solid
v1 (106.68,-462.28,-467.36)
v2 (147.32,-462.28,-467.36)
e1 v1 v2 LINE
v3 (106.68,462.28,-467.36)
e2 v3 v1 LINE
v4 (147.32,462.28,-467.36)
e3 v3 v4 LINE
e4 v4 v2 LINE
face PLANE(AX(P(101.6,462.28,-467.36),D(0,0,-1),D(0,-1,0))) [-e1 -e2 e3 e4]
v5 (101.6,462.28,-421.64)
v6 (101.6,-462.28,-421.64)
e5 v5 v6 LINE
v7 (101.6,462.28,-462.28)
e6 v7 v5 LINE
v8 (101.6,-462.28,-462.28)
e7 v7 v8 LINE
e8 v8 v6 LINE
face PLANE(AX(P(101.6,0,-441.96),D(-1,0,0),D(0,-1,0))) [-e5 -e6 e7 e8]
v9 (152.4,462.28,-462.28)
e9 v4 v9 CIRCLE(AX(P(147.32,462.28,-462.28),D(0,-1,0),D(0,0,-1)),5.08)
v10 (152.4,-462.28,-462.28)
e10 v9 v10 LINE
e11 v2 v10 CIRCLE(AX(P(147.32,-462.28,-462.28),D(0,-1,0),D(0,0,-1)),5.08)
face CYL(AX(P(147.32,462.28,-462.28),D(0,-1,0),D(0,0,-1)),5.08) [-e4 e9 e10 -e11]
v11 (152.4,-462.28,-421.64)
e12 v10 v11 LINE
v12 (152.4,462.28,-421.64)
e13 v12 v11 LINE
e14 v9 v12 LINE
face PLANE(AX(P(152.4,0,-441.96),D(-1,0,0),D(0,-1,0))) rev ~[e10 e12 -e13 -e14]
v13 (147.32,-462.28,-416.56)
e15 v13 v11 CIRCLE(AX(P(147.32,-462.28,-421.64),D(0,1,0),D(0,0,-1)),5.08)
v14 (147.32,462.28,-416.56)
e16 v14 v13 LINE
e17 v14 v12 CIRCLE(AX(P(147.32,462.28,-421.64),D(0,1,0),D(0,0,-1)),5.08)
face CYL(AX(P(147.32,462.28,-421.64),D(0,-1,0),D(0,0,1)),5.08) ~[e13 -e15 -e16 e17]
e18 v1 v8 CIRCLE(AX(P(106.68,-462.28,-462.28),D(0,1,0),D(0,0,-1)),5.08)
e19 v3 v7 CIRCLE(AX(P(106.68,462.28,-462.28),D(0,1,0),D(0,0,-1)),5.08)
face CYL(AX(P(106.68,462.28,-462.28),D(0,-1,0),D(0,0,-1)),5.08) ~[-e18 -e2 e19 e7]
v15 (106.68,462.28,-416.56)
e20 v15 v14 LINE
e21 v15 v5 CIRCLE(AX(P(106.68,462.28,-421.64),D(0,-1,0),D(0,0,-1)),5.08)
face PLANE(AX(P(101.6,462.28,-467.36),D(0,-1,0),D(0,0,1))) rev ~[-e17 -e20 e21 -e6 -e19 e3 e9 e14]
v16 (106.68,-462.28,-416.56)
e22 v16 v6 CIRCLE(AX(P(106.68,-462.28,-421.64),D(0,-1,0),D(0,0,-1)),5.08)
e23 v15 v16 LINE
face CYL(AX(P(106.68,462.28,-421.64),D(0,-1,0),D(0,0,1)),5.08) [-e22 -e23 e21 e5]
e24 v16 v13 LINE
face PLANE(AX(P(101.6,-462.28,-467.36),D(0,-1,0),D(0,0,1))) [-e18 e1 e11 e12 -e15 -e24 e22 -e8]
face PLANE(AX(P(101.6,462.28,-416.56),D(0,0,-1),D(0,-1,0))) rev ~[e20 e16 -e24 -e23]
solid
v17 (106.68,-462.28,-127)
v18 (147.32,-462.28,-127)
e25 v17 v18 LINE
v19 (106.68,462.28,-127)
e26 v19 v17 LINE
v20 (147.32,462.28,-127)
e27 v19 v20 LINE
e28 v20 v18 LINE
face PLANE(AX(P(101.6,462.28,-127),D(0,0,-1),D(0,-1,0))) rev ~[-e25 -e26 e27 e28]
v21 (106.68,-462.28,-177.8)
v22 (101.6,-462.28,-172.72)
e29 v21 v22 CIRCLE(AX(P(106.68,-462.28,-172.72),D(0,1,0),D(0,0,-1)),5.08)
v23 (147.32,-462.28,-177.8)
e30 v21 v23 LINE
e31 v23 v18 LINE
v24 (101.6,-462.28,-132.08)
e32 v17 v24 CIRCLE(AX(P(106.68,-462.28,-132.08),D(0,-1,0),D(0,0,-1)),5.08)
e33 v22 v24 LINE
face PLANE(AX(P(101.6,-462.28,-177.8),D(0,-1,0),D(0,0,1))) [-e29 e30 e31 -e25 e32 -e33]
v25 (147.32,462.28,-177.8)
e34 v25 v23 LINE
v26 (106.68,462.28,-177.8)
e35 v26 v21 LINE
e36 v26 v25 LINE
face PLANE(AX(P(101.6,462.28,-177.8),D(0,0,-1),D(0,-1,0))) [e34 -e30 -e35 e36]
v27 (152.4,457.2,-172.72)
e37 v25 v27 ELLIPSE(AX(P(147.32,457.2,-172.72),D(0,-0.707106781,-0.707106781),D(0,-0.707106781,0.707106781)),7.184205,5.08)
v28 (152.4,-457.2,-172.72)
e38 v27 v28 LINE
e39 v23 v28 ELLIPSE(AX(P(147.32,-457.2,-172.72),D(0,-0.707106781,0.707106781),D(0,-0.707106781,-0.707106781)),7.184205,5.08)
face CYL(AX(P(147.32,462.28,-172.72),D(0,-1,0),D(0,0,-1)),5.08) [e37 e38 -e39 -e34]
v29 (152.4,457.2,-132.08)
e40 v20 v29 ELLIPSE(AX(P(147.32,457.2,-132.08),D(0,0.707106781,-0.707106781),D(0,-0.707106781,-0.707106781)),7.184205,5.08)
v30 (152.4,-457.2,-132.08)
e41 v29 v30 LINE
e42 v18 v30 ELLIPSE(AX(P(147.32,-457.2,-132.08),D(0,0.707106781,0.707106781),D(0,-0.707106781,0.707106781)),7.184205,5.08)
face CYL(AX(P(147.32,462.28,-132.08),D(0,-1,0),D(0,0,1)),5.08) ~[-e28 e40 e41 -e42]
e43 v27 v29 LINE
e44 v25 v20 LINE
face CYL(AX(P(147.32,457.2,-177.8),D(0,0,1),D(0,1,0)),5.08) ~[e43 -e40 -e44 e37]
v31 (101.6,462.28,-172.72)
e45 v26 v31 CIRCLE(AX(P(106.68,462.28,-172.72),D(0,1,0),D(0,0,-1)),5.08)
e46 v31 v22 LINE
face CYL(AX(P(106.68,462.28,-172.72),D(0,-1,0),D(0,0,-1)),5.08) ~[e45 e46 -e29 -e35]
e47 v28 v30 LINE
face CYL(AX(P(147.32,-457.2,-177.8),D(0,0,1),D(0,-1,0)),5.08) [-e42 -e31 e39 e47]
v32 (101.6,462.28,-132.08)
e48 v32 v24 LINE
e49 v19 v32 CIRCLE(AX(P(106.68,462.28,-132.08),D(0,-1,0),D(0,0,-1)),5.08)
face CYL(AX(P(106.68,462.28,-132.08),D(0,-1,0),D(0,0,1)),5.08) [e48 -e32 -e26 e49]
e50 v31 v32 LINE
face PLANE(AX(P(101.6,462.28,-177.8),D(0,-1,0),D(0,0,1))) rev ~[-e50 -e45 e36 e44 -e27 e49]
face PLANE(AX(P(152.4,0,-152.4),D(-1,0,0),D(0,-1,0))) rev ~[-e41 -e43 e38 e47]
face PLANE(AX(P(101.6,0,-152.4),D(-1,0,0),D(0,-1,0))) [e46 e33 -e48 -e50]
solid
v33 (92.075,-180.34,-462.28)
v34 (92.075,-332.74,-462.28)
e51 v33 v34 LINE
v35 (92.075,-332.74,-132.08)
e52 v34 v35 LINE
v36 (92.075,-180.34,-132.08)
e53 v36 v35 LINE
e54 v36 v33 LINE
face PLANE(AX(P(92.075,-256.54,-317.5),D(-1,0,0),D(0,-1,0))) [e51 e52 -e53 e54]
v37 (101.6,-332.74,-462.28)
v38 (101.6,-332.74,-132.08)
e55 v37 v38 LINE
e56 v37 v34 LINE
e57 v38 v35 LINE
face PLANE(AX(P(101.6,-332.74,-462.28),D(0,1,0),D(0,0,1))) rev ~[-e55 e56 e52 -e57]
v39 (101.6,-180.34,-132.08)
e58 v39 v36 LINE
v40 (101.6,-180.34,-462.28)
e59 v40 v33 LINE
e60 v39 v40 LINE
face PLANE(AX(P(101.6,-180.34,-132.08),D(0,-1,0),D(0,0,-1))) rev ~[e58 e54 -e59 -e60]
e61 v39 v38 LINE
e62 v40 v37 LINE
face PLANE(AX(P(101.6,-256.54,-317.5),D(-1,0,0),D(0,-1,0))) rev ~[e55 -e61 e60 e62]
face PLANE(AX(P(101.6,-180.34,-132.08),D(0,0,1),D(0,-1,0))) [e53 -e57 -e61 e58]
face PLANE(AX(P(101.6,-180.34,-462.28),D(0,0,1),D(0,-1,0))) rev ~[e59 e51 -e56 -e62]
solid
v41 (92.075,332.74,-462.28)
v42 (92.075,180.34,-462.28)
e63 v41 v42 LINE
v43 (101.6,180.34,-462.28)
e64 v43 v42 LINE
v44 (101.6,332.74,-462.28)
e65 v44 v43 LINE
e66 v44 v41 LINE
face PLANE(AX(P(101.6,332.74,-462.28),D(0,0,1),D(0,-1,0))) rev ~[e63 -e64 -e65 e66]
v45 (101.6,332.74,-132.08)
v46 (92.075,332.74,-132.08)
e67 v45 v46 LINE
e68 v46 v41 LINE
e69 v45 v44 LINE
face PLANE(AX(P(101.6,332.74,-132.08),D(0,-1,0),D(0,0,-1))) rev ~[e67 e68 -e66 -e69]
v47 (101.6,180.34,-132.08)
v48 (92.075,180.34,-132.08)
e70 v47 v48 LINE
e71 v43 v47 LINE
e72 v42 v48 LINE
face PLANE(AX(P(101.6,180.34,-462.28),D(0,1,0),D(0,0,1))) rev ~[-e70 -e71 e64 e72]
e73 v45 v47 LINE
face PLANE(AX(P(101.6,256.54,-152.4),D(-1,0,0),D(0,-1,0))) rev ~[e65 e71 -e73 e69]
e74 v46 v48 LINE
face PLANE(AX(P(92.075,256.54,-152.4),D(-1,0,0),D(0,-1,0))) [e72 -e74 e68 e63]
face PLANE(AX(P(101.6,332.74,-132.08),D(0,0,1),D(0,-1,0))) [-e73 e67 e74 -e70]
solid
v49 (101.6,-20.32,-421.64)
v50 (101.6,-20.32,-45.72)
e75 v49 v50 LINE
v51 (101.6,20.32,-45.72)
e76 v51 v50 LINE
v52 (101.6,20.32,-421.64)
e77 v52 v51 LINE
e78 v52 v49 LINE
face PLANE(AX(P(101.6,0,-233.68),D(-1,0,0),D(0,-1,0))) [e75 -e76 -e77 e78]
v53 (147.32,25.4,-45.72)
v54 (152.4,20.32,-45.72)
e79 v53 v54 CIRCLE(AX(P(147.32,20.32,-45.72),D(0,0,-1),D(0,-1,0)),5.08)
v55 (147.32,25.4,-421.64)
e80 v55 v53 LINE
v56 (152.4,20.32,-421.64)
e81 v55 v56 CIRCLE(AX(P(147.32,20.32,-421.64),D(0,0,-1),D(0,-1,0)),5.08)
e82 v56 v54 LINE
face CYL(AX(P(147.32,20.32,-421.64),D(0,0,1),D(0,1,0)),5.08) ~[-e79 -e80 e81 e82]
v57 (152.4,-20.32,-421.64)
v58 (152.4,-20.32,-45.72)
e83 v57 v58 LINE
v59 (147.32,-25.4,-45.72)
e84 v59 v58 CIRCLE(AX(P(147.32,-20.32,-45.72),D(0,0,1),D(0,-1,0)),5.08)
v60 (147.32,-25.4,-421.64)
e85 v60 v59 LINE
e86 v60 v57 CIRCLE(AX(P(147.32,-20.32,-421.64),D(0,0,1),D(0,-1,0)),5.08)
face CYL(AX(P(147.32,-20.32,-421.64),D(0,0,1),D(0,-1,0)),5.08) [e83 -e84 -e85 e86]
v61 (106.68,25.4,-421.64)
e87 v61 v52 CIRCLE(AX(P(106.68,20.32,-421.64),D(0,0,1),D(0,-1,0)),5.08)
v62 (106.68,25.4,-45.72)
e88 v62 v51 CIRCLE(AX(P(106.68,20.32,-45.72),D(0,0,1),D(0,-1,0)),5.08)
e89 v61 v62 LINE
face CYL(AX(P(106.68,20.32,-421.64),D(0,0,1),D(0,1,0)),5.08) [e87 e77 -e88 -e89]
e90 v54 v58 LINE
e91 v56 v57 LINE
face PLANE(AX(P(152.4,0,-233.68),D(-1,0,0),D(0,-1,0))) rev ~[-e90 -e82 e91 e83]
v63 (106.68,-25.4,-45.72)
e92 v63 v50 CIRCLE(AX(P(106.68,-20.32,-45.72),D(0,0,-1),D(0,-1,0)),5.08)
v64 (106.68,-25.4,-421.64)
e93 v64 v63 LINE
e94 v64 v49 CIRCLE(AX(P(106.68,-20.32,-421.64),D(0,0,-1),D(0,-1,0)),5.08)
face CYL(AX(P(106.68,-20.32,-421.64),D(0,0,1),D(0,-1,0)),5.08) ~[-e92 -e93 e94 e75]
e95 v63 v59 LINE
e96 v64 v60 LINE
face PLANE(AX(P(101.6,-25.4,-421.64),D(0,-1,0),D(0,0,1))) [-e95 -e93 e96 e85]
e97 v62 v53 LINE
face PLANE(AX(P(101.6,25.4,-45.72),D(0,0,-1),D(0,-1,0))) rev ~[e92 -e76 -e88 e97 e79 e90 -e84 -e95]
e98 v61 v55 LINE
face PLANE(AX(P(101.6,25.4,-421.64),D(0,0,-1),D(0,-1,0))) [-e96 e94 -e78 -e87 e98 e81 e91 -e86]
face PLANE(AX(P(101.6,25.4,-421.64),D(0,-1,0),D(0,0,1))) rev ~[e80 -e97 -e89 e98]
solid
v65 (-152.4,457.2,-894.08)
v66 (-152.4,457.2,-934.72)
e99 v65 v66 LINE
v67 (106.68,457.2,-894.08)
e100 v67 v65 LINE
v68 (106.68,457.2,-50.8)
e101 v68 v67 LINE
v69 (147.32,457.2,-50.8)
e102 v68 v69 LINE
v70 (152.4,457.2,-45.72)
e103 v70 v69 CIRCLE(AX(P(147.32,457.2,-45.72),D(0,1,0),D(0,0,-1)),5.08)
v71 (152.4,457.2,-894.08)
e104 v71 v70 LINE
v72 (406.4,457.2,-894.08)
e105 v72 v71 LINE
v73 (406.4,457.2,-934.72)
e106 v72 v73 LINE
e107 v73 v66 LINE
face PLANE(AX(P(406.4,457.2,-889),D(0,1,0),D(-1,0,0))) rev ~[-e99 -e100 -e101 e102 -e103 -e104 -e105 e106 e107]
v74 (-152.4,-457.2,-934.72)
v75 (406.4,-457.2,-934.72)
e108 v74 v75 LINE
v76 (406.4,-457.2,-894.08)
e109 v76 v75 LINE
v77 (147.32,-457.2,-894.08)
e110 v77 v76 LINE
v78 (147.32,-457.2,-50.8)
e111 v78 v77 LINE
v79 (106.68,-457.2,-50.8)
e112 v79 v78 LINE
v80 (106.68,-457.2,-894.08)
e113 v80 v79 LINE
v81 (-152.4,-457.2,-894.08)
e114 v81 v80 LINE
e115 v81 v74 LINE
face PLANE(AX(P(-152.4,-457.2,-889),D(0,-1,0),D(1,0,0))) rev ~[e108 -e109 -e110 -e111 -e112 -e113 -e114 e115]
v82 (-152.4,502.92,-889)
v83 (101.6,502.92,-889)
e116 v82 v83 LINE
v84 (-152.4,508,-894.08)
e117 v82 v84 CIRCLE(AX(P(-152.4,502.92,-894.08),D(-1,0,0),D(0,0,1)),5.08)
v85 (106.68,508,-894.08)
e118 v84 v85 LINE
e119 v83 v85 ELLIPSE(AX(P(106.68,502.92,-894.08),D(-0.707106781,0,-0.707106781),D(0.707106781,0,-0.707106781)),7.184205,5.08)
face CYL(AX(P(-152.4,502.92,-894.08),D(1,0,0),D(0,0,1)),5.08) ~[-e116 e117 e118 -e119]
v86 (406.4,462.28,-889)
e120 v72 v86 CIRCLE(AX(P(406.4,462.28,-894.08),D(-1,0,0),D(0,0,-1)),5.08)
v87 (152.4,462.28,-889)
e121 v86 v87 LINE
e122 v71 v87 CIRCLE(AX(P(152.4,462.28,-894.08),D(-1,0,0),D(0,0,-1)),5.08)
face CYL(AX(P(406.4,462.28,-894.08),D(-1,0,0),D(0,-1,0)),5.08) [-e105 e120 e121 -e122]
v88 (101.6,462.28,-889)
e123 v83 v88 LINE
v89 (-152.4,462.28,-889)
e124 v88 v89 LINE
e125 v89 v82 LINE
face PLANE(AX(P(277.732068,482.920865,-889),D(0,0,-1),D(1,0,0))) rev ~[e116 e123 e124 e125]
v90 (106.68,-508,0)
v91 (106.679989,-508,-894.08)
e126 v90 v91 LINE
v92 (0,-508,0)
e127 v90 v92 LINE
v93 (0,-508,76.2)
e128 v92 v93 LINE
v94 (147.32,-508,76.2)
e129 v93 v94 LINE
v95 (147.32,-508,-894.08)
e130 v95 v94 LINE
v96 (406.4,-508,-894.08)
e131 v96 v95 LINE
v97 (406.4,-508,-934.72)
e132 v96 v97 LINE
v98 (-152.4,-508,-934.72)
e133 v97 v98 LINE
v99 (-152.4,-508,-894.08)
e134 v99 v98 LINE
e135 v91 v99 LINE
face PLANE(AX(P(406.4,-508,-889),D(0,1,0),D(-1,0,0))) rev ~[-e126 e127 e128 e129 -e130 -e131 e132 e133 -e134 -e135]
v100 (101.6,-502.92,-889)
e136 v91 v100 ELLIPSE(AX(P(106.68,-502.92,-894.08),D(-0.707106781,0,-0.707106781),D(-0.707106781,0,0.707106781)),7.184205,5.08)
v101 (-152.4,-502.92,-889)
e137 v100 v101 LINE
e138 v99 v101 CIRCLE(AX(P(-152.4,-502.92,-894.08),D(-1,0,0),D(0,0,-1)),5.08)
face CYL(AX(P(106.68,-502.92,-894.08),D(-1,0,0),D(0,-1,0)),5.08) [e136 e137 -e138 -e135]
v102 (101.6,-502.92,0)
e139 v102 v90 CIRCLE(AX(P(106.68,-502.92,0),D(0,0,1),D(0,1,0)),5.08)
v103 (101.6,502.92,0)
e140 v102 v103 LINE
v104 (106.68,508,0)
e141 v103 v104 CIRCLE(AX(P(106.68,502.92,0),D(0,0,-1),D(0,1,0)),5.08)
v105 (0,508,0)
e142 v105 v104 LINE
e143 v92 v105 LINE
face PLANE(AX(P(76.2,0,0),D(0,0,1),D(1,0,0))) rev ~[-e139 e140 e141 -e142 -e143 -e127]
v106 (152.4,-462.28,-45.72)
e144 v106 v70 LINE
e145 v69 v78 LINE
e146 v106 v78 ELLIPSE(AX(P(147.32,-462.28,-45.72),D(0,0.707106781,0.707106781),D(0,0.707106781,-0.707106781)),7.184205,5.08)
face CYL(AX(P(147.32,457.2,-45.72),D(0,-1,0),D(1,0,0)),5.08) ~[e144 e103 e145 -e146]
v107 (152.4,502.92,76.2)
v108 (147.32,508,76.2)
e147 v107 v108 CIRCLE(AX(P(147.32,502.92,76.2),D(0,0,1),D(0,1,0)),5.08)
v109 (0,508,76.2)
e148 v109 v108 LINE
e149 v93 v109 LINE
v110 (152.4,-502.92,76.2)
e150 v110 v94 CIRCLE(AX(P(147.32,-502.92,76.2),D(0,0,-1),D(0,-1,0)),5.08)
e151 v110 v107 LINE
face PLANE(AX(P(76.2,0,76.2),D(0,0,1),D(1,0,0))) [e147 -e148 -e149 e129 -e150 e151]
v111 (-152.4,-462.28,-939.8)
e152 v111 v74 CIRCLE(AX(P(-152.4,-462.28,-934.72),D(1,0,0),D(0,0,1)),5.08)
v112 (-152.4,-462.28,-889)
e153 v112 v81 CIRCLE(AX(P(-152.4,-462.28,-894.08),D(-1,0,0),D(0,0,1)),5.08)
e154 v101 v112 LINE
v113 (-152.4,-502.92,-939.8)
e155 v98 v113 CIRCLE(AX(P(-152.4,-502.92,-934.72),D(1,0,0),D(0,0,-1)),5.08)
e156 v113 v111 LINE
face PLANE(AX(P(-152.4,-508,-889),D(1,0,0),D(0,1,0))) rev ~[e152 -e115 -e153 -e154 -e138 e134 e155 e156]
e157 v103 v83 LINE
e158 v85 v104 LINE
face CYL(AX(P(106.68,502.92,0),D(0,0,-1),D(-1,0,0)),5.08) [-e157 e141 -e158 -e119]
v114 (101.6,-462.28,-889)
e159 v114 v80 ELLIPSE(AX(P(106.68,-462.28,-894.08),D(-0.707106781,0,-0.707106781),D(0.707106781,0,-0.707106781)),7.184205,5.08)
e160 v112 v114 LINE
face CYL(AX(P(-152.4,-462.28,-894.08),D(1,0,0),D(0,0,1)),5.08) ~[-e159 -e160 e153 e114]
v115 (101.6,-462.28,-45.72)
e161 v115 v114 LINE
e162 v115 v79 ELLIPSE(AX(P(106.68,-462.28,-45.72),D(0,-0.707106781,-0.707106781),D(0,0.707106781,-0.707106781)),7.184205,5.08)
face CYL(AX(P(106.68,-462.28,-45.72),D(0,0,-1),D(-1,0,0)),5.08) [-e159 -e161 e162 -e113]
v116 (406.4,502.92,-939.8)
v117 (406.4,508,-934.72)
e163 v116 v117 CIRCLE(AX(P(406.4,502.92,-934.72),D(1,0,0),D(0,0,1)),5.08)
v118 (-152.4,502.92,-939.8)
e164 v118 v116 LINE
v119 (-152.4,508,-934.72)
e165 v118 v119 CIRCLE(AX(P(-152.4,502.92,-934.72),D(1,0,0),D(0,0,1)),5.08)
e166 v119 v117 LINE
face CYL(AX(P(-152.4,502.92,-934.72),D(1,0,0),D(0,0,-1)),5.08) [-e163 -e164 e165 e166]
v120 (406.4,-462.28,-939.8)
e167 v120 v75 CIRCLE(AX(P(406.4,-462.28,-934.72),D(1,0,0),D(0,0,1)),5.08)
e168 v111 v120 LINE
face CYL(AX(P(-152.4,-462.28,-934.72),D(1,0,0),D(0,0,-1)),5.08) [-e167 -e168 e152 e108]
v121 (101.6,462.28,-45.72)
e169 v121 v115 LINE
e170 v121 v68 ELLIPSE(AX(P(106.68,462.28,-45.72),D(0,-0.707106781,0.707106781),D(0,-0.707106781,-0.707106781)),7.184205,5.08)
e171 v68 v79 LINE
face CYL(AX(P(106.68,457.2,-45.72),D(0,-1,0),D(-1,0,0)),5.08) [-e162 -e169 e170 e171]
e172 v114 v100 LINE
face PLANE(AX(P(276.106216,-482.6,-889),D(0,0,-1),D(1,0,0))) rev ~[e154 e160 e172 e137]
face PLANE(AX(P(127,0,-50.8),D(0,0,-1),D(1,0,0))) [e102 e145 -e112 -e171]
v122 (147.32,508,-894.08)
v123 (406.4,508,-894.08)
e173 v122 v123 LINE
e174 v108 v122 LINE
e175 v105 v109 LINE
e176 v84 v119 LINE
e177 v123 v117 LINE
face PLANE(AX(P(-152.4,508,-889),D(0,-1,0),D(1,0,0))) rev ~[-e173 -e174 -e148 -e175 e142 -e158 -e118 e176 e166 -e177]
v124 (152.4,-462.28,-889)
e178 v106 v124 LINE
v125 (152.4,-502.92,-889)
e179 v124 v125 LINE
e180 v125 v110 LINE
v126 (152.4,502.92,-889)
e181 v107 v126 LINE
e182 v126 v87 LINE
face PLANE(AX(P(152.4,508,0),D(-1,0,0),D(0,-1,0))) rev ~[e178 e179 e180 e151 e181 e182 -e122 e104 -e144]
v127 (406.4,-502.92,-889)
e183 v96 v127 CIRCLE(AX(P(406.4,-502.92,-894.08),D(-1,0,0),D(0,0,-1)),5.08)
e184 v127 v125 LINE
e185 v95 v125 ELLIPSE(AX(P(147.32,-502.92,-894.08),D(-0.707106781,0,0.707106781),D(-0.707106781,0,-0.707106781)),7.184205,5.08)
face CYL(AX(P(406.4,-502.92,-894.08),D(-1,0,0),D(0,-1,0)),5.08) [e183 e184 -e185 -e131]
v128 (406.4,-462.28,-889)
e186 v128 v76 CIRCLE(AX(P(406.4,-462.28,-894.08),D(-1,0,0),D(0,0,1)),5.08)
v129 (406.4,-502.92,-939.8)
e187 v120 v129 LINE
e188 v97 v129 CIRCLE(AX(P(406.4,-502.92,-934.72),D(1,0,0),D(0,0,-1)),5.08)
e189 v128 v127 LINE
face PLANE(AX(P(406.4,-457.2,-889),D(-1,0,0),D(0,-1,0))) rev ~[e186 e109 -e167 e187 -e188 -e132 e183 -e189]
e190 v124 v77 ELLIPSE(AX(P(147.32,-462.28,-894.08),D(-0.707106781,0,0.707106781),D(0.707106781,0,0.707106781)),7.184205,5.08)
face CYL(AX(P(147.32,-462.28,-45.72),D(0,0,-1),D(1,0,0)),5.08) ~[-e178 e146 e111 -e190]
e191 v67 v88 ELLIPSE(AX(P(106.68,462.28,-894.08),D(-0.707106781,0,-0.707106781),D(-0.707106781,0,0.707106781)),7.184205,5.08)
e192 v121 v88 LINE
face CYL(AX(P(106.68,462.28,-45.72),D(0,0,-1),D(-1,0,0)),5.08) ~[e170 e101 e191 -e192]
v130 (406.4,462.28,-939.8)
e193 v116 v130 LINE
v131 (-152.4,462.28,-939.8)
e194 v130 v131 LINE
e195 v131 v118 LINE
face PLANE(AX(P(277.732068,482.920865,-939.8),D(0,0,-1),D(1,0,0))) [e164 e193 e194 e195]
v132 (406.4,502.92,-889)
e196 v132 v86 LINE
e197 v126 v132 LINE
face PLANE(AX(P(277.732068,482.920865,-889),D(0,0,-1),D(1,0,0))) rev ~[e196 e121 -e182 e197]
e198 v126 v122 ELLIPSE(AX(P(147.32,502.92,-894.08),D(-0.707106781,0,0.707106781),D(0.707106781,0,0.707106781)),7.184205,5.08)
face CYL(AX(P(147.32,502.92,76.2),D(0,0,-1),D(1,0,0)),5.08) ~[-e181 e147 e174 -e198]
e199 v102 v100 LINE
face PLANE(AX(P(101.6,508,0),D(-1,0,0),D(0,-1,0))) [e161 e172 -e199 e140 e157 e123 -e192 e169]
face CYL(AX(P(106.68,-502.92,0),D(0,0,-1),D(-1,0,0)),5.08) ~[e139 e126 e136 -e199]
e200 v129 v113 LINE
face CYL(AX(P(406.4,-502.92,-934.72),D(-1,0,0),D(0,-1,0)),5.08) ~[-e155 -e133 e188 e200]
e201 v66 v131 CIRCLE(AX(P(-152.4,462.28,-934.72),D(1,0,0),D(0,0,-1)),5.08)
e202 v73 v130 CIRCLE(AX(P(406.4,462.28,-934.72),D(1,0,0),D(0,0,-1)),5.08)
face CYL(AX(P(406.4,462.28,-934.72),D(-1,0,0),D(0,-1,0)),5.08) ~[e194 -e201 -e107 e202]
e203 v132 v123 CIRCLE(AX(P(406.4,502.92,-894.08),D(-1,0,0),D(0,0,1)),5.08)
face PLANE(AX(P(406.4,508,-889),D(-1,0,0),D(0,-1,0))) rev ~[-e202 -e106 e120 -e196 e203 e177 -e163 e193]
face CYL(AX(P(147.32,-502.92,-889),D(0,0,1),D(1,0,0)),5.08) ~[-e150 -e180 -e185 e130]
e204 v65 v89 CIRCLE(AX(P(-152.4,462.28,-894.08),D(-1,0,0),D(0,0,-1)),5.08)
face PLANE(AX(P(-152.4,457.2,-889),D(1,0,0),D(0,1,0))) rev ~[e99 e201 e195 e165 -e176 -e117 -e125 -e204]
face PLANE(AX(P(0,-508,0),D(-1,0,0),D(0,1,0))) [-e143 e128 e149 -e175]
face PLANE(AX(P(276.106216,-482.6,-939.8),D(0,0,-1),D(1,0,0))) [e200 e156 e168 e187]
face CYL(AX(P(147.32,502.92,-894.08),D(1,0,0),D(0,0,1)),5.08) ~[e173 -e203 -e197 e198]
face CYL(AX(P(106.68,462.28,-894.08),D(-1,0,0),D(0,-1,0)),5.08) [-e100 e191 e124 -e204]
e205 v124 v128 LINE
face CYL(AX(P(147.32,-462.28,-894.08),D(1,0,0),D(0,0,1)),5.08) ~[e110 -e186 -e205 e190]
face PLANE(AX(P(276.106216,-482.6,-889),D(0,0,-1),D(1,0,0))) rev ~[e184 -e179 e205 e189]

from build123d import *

# Parameters (mm, degrees)
F0_W      = 152.4
F0_H      = 1016
F1_DEPTH  = 76.2
F4_W      = 50.8
F4_H      = 914.4
F5_DEPTH  = 50.8
F6_R      = 5.08
F2_W      = 50.8
F2_H      = 50.8
F7_DEPTH  = 889
F3_W      = 50.8
F3_H      = 50.8
F8_DEPTH  = 889
F9_R      = 5.08
F10_W     = 924.56
F10_H     = 50.8
F11_DEPTH = 50.8
F12_R     = 5.08
F13_W     = 924.56
F13_H     = 50.8
F14_DEPTH = 50.8
F15_R     = 5.08
F16_W     = 50.8
F16_H     = 375.92
F17_DEPTH = 50.8
F18_R     = 5.08
F19_W     = 152.4
F19_H     = 40.64
F19_H_2   = 289.56
F20_DEPTH = 9.525
F21_W     = 152.4
F21_H     = 289.56
F21_H_2   = 40.64
F22_DEPTH = 9.525
F24_DEPTH = 50.8
F25_R     = 5.08
F27_DEPTH = 50.8
F28_R     = 5.08


with BuildPart() as f1:
    # F0 (on Top) → F1 (new body)
    with BuildSketch(Plane.XY):
        with Locations((76.2, 0)):
            Rectangle(F0_W, F0_H)
    extrude(amount=F1_DEPTH)

    # F4 (on face) → F5 (join)
    with BuildSketch(Plane(origin=(0, 0, 0), x_dir=(1, 0, 0), z_dir=(0, 0, -1))):
        with Locations((127, 0)):
            Rectangle(F4_W, F4_H)
    extrude(amount=F5_DEPTH)

    # F6
    f6_edges = [f1.edges().sort_by_distance(p)[0] for p in [
        (101.6, 0, -50.8),
        (152.4, 0, -50.8),
    ]]
    fillet(f6_edges, radius=F6_R)

    # F2 (on face) → F7 (join)
    with BuildSketch(Plane(origin=(0, 0, 0), x_dir=(1, 0, 0), z_dir=(0, 0, -1))):
        with Locations((127, 482.6)):
            Rectangle(F2_W, F2_H)
    extrude(amount=F7_DEPTH)

    # F3 (on face) → F8 (join)
    with BuildSketch(Plane(origin=(0, 0, 0), x_dir=(1, 0, 0), z_dir=(0, 0, -1))):
        with Locations((127, -482.6)):
            Rectangle(F3_W, F3_H)
    extrude(amount=F8_DEPTH)

    # F9
    f9_edges = [f1.edges().sort_by_distance(p)[0] for p in [
        (101.6, -457.2, -467.36),
        (152.4, -457.2, -467.36),
        (101.6, -508, -444.5),
        (152.4, -508, -406.4),
        (152.4, 508, -406.4),
        (101.6, 508, -444.5),
        (101.6, 457.2, -467.36),
    ]]
    fillet(f9_edges, radius=F9_R)

    # F23 (on face) → F24 (join)
    with BuildSketch(Plane(origin=(0, 0, -889), x_dir=(1, 0, 0), z_dir=(0, 0, -1))):
        with BuildLine():
            Line((406.4, 508), (147.32, 508))
            ThreePointArc((147.32, 508), (150.9121024484, 506.5121024484), (152.4, 502.92))
            Line((152.4, 502.92), (152.4, 462.28))
            ThreePointArc((152.4, 462.28), (150.9121024484, 458.6878975516), (147.32, 457.2))
            Line((147.32, 457.2), (406.4, 457.2))
            Line((406.4, 457.2), (406.4, 508))
        make_face()
        with BuildLine():
            Line((147.32, 508), (106.68, 508))
            ThreePointArc((106.68, 508), (103.0878975516, 506.5121024484), (101.6, 502.92))
            Line((101.6, 502.92), (101.6, 462.28))
            ThreePointArc((101.6, 462.28), (103.0878975516, 458.6878975516), (106.68, 457.2))
            Line((106.68, 457.2), (147.32, 457.2))
            ThreePointArc((147.32, 457.2), (150.9121024484, 458.6878975516), (152.4, 462.28))
            Line((152.4, 462.28), (152.4, 502.92))
            ThreePointArc((152.4, 502.92), (150.9121024484, 506.5121024484), (147.32, 508))
        make_face()
        with BuildLine():
            Line((106.68, 508), (-152.4, 508))
            Line((-152.4, 508), (-152.4, 457.2))
            Line((-152.4, 457.2), (106.68, 457.2))
            ThreePointArc((106.68, 457.2), (103.0878975516, 458.6878975516), (101.6, 462.28))
            Line((101.6, 462.28), (101.6, 502.92))
            ThreePointArc((101.6, 502.92), (103.0878975516, 506.5121024484), (106.68, 508))
        make_face()
    extrude(amount=F24_DEPTH)

    # F25
    f25_edges = [f1.edges().sort_by_distance(p)[0] for p in [
        (-22.86, -508, -889),
        (127, -508, -939.8),
        (276.86, -508, -889),
        (-22.86, -457.2, -889),
        (276.86, -457.2, -889),
        (127, -457.2, -939.8),
    ]]
    fillet(f25_edges, radius=F25_R)

    # F26 (on face) → F27 (join)
    with BuildSketch(Plane(origin=(0, 0, -889), x_dir=(1, 0, 0), z_dir=(0, 0, -1))):
        with BuildLine():
            Line((406.4, -457.2), (152.4, -457.2))
            Line((152.4, -457.2), (152.4, -502.92))
            ThreePointArc((152.4, -502.92), (150.9121024484, -506.5121024484), (147.32, -508))
            Line((147.32, -508), (406.4, -508))
            Line((406.4, -508), (406.4, -457.2))
        make_face()
        with BuildLine():
            Line((152.4, -457.2), (106.68, -457.2))
            ThreePointArc((106.68, -457.2), (103.0878975516, -458.6878975516), (101.6, -462.28))
            Line((101.6, -462.28), (101.6, -502.92))
            ThreePointArc((101.6, -502.92), (103.0878975516, -506.5121024484), (106.68, -508))
            Line((106.68, -508), (147.32, -508))
            ThreePointArc((147.32, -508), (150.9121024484, -506.5121024484), (152.4, -502.92))
            Line((152.4, -502.92), (152.4, -457.2))
        make_face()
        with BuildLine():
            Line((106.68, -457.2), (-152.4, -457.2))
            Line((-152.4, -457.2), (-152.4, -508))
            Line((-152.4, -508), (106.68, -508))
            ThreePointArc((106.68, -508), (103.0878975516, -506.5121024484), (101.6, -502.92))
            Line((101.6, -502.92), (101.6, -462.28))
            ThreePointArc((101.6, -462.28), (103.0878975516, -458.6878975516), (106.68, -457.2))
        make_face()
    extrude(amount=F27_DEPTH)

    # F28
    f28_edges = [f1.edges().sort_by_distance(p)[0] for p in [
        (127, 457.2, -939.8),
        (127, 508, -939.8),
        (-22.86, 457.2, -889),
        (279.4, 457.2, -889),
        (-22.86, 508, -889),
        (276.86, 508, -889),
    ]]
    fillet(f28_edges, radius=F28_R)


with BuildPart() as f11:
    # F10 (on face) → F11 (new body)
    with BuildSketch(Plane(origin=(101.6, 0, 0), x_dir=(0, -1, 0), z_dir=(-1, 0, 0))):
        with Locations((0, -152.4)):
            Rectangle(F10_W, F10_H)
    extrude(amount=-F11_DEPTH)

    # F12
    f12_edges = [f11.edges().sort_by_distance(p)[0] for p in [
        (101.6, 0, -127),
        (101.6, 0, -177.8),
        (152.4, 0, -127),
        (152.4, 462.28, -152.4),
        (152.4, 0, -177.8),
        (152.4, -462.28, -152.4),
    ]]
    fillet(f12_edges, radius=F12_R)


with BuildPart() as f14:
    # F13 (on face) → F14 (new body)
    with BuildSketch(Plane(origin=(101.6, 0, 0), x_dir=(0, -1, 0), z_dir=(-1, 0, 0))):
        with Locations((0, -441.96)):
            Rectangle(F13_W, F13_H)
    extrude(amount=-F14_DEPTH)

    # F15
    f15_edges = [f14.edges().sort_by_distance(p)[0] for p in [
        (101.6, 0, -416.56),
        (101.6, 0, -467.36),
        (152.4, 0, -467.36),
        (152.4, 0, -416.56),
    ]]
    fillet(f15_edges, radius=F15_R)


with BuildPart() as f17:
    # F16 (on face) → F17 (new body)
    with BuildSketch(Plane(origin=(101.6, 0, 0), x_dir=(0, -1, 0), z_dir=(-1, 0, 0))):
        with Locations((0, -233.68)):
            Rectangle(F16_W, F16_H)
    extrude(amount=-F17_DEPTH)

    # F18
    f18_edges = [f17.edges().sort_by_distance(p)[0] for p in [
        (101.6, -25.4, -233.68),
        (101.6, 25.4, -233.68),
        (152.4, -25.4, -233.68),
        (152.4, 25.4, -233.68),
    ]]
    fillet(f18_edges, radius=F18_R)


with BuildPart() as f20:
    # F19 (on face) → F20 (new body)
    with BuildSketch(Plane(origin=(101.6, 0, 0), x_dir=(0, -1, 0), z_dir=(-1, 0, 0))):
        with Locations((-256.54, -152.4)):
            Rectangle(F19_W, F19_H)
        with Locations((-256.54, -317.5)):
            Rectangle(F19_W, F19_H_2)
    extrude(amount=F20_DEPTH)


with BuildPart() as f22:
    # F21 (on face) → F22 (new body)
    with BuildSketch(Plane(origin=(101.6, 0, 0), x_dir=(0, -1, 0), z_dir=(-1, 0, 0))):
        with Locations((256.54, -317.5)):
            Rectangle(F21_W, F21_H)
        with Locations((256.54, -152.4)):
            Rectangle(F21_W, F21_H_2)
    extrude(amount=F22_DEPTH)


solid = Compound([f1.part, f11.part, f14.part, f17.part, f20.part, f22.part])
